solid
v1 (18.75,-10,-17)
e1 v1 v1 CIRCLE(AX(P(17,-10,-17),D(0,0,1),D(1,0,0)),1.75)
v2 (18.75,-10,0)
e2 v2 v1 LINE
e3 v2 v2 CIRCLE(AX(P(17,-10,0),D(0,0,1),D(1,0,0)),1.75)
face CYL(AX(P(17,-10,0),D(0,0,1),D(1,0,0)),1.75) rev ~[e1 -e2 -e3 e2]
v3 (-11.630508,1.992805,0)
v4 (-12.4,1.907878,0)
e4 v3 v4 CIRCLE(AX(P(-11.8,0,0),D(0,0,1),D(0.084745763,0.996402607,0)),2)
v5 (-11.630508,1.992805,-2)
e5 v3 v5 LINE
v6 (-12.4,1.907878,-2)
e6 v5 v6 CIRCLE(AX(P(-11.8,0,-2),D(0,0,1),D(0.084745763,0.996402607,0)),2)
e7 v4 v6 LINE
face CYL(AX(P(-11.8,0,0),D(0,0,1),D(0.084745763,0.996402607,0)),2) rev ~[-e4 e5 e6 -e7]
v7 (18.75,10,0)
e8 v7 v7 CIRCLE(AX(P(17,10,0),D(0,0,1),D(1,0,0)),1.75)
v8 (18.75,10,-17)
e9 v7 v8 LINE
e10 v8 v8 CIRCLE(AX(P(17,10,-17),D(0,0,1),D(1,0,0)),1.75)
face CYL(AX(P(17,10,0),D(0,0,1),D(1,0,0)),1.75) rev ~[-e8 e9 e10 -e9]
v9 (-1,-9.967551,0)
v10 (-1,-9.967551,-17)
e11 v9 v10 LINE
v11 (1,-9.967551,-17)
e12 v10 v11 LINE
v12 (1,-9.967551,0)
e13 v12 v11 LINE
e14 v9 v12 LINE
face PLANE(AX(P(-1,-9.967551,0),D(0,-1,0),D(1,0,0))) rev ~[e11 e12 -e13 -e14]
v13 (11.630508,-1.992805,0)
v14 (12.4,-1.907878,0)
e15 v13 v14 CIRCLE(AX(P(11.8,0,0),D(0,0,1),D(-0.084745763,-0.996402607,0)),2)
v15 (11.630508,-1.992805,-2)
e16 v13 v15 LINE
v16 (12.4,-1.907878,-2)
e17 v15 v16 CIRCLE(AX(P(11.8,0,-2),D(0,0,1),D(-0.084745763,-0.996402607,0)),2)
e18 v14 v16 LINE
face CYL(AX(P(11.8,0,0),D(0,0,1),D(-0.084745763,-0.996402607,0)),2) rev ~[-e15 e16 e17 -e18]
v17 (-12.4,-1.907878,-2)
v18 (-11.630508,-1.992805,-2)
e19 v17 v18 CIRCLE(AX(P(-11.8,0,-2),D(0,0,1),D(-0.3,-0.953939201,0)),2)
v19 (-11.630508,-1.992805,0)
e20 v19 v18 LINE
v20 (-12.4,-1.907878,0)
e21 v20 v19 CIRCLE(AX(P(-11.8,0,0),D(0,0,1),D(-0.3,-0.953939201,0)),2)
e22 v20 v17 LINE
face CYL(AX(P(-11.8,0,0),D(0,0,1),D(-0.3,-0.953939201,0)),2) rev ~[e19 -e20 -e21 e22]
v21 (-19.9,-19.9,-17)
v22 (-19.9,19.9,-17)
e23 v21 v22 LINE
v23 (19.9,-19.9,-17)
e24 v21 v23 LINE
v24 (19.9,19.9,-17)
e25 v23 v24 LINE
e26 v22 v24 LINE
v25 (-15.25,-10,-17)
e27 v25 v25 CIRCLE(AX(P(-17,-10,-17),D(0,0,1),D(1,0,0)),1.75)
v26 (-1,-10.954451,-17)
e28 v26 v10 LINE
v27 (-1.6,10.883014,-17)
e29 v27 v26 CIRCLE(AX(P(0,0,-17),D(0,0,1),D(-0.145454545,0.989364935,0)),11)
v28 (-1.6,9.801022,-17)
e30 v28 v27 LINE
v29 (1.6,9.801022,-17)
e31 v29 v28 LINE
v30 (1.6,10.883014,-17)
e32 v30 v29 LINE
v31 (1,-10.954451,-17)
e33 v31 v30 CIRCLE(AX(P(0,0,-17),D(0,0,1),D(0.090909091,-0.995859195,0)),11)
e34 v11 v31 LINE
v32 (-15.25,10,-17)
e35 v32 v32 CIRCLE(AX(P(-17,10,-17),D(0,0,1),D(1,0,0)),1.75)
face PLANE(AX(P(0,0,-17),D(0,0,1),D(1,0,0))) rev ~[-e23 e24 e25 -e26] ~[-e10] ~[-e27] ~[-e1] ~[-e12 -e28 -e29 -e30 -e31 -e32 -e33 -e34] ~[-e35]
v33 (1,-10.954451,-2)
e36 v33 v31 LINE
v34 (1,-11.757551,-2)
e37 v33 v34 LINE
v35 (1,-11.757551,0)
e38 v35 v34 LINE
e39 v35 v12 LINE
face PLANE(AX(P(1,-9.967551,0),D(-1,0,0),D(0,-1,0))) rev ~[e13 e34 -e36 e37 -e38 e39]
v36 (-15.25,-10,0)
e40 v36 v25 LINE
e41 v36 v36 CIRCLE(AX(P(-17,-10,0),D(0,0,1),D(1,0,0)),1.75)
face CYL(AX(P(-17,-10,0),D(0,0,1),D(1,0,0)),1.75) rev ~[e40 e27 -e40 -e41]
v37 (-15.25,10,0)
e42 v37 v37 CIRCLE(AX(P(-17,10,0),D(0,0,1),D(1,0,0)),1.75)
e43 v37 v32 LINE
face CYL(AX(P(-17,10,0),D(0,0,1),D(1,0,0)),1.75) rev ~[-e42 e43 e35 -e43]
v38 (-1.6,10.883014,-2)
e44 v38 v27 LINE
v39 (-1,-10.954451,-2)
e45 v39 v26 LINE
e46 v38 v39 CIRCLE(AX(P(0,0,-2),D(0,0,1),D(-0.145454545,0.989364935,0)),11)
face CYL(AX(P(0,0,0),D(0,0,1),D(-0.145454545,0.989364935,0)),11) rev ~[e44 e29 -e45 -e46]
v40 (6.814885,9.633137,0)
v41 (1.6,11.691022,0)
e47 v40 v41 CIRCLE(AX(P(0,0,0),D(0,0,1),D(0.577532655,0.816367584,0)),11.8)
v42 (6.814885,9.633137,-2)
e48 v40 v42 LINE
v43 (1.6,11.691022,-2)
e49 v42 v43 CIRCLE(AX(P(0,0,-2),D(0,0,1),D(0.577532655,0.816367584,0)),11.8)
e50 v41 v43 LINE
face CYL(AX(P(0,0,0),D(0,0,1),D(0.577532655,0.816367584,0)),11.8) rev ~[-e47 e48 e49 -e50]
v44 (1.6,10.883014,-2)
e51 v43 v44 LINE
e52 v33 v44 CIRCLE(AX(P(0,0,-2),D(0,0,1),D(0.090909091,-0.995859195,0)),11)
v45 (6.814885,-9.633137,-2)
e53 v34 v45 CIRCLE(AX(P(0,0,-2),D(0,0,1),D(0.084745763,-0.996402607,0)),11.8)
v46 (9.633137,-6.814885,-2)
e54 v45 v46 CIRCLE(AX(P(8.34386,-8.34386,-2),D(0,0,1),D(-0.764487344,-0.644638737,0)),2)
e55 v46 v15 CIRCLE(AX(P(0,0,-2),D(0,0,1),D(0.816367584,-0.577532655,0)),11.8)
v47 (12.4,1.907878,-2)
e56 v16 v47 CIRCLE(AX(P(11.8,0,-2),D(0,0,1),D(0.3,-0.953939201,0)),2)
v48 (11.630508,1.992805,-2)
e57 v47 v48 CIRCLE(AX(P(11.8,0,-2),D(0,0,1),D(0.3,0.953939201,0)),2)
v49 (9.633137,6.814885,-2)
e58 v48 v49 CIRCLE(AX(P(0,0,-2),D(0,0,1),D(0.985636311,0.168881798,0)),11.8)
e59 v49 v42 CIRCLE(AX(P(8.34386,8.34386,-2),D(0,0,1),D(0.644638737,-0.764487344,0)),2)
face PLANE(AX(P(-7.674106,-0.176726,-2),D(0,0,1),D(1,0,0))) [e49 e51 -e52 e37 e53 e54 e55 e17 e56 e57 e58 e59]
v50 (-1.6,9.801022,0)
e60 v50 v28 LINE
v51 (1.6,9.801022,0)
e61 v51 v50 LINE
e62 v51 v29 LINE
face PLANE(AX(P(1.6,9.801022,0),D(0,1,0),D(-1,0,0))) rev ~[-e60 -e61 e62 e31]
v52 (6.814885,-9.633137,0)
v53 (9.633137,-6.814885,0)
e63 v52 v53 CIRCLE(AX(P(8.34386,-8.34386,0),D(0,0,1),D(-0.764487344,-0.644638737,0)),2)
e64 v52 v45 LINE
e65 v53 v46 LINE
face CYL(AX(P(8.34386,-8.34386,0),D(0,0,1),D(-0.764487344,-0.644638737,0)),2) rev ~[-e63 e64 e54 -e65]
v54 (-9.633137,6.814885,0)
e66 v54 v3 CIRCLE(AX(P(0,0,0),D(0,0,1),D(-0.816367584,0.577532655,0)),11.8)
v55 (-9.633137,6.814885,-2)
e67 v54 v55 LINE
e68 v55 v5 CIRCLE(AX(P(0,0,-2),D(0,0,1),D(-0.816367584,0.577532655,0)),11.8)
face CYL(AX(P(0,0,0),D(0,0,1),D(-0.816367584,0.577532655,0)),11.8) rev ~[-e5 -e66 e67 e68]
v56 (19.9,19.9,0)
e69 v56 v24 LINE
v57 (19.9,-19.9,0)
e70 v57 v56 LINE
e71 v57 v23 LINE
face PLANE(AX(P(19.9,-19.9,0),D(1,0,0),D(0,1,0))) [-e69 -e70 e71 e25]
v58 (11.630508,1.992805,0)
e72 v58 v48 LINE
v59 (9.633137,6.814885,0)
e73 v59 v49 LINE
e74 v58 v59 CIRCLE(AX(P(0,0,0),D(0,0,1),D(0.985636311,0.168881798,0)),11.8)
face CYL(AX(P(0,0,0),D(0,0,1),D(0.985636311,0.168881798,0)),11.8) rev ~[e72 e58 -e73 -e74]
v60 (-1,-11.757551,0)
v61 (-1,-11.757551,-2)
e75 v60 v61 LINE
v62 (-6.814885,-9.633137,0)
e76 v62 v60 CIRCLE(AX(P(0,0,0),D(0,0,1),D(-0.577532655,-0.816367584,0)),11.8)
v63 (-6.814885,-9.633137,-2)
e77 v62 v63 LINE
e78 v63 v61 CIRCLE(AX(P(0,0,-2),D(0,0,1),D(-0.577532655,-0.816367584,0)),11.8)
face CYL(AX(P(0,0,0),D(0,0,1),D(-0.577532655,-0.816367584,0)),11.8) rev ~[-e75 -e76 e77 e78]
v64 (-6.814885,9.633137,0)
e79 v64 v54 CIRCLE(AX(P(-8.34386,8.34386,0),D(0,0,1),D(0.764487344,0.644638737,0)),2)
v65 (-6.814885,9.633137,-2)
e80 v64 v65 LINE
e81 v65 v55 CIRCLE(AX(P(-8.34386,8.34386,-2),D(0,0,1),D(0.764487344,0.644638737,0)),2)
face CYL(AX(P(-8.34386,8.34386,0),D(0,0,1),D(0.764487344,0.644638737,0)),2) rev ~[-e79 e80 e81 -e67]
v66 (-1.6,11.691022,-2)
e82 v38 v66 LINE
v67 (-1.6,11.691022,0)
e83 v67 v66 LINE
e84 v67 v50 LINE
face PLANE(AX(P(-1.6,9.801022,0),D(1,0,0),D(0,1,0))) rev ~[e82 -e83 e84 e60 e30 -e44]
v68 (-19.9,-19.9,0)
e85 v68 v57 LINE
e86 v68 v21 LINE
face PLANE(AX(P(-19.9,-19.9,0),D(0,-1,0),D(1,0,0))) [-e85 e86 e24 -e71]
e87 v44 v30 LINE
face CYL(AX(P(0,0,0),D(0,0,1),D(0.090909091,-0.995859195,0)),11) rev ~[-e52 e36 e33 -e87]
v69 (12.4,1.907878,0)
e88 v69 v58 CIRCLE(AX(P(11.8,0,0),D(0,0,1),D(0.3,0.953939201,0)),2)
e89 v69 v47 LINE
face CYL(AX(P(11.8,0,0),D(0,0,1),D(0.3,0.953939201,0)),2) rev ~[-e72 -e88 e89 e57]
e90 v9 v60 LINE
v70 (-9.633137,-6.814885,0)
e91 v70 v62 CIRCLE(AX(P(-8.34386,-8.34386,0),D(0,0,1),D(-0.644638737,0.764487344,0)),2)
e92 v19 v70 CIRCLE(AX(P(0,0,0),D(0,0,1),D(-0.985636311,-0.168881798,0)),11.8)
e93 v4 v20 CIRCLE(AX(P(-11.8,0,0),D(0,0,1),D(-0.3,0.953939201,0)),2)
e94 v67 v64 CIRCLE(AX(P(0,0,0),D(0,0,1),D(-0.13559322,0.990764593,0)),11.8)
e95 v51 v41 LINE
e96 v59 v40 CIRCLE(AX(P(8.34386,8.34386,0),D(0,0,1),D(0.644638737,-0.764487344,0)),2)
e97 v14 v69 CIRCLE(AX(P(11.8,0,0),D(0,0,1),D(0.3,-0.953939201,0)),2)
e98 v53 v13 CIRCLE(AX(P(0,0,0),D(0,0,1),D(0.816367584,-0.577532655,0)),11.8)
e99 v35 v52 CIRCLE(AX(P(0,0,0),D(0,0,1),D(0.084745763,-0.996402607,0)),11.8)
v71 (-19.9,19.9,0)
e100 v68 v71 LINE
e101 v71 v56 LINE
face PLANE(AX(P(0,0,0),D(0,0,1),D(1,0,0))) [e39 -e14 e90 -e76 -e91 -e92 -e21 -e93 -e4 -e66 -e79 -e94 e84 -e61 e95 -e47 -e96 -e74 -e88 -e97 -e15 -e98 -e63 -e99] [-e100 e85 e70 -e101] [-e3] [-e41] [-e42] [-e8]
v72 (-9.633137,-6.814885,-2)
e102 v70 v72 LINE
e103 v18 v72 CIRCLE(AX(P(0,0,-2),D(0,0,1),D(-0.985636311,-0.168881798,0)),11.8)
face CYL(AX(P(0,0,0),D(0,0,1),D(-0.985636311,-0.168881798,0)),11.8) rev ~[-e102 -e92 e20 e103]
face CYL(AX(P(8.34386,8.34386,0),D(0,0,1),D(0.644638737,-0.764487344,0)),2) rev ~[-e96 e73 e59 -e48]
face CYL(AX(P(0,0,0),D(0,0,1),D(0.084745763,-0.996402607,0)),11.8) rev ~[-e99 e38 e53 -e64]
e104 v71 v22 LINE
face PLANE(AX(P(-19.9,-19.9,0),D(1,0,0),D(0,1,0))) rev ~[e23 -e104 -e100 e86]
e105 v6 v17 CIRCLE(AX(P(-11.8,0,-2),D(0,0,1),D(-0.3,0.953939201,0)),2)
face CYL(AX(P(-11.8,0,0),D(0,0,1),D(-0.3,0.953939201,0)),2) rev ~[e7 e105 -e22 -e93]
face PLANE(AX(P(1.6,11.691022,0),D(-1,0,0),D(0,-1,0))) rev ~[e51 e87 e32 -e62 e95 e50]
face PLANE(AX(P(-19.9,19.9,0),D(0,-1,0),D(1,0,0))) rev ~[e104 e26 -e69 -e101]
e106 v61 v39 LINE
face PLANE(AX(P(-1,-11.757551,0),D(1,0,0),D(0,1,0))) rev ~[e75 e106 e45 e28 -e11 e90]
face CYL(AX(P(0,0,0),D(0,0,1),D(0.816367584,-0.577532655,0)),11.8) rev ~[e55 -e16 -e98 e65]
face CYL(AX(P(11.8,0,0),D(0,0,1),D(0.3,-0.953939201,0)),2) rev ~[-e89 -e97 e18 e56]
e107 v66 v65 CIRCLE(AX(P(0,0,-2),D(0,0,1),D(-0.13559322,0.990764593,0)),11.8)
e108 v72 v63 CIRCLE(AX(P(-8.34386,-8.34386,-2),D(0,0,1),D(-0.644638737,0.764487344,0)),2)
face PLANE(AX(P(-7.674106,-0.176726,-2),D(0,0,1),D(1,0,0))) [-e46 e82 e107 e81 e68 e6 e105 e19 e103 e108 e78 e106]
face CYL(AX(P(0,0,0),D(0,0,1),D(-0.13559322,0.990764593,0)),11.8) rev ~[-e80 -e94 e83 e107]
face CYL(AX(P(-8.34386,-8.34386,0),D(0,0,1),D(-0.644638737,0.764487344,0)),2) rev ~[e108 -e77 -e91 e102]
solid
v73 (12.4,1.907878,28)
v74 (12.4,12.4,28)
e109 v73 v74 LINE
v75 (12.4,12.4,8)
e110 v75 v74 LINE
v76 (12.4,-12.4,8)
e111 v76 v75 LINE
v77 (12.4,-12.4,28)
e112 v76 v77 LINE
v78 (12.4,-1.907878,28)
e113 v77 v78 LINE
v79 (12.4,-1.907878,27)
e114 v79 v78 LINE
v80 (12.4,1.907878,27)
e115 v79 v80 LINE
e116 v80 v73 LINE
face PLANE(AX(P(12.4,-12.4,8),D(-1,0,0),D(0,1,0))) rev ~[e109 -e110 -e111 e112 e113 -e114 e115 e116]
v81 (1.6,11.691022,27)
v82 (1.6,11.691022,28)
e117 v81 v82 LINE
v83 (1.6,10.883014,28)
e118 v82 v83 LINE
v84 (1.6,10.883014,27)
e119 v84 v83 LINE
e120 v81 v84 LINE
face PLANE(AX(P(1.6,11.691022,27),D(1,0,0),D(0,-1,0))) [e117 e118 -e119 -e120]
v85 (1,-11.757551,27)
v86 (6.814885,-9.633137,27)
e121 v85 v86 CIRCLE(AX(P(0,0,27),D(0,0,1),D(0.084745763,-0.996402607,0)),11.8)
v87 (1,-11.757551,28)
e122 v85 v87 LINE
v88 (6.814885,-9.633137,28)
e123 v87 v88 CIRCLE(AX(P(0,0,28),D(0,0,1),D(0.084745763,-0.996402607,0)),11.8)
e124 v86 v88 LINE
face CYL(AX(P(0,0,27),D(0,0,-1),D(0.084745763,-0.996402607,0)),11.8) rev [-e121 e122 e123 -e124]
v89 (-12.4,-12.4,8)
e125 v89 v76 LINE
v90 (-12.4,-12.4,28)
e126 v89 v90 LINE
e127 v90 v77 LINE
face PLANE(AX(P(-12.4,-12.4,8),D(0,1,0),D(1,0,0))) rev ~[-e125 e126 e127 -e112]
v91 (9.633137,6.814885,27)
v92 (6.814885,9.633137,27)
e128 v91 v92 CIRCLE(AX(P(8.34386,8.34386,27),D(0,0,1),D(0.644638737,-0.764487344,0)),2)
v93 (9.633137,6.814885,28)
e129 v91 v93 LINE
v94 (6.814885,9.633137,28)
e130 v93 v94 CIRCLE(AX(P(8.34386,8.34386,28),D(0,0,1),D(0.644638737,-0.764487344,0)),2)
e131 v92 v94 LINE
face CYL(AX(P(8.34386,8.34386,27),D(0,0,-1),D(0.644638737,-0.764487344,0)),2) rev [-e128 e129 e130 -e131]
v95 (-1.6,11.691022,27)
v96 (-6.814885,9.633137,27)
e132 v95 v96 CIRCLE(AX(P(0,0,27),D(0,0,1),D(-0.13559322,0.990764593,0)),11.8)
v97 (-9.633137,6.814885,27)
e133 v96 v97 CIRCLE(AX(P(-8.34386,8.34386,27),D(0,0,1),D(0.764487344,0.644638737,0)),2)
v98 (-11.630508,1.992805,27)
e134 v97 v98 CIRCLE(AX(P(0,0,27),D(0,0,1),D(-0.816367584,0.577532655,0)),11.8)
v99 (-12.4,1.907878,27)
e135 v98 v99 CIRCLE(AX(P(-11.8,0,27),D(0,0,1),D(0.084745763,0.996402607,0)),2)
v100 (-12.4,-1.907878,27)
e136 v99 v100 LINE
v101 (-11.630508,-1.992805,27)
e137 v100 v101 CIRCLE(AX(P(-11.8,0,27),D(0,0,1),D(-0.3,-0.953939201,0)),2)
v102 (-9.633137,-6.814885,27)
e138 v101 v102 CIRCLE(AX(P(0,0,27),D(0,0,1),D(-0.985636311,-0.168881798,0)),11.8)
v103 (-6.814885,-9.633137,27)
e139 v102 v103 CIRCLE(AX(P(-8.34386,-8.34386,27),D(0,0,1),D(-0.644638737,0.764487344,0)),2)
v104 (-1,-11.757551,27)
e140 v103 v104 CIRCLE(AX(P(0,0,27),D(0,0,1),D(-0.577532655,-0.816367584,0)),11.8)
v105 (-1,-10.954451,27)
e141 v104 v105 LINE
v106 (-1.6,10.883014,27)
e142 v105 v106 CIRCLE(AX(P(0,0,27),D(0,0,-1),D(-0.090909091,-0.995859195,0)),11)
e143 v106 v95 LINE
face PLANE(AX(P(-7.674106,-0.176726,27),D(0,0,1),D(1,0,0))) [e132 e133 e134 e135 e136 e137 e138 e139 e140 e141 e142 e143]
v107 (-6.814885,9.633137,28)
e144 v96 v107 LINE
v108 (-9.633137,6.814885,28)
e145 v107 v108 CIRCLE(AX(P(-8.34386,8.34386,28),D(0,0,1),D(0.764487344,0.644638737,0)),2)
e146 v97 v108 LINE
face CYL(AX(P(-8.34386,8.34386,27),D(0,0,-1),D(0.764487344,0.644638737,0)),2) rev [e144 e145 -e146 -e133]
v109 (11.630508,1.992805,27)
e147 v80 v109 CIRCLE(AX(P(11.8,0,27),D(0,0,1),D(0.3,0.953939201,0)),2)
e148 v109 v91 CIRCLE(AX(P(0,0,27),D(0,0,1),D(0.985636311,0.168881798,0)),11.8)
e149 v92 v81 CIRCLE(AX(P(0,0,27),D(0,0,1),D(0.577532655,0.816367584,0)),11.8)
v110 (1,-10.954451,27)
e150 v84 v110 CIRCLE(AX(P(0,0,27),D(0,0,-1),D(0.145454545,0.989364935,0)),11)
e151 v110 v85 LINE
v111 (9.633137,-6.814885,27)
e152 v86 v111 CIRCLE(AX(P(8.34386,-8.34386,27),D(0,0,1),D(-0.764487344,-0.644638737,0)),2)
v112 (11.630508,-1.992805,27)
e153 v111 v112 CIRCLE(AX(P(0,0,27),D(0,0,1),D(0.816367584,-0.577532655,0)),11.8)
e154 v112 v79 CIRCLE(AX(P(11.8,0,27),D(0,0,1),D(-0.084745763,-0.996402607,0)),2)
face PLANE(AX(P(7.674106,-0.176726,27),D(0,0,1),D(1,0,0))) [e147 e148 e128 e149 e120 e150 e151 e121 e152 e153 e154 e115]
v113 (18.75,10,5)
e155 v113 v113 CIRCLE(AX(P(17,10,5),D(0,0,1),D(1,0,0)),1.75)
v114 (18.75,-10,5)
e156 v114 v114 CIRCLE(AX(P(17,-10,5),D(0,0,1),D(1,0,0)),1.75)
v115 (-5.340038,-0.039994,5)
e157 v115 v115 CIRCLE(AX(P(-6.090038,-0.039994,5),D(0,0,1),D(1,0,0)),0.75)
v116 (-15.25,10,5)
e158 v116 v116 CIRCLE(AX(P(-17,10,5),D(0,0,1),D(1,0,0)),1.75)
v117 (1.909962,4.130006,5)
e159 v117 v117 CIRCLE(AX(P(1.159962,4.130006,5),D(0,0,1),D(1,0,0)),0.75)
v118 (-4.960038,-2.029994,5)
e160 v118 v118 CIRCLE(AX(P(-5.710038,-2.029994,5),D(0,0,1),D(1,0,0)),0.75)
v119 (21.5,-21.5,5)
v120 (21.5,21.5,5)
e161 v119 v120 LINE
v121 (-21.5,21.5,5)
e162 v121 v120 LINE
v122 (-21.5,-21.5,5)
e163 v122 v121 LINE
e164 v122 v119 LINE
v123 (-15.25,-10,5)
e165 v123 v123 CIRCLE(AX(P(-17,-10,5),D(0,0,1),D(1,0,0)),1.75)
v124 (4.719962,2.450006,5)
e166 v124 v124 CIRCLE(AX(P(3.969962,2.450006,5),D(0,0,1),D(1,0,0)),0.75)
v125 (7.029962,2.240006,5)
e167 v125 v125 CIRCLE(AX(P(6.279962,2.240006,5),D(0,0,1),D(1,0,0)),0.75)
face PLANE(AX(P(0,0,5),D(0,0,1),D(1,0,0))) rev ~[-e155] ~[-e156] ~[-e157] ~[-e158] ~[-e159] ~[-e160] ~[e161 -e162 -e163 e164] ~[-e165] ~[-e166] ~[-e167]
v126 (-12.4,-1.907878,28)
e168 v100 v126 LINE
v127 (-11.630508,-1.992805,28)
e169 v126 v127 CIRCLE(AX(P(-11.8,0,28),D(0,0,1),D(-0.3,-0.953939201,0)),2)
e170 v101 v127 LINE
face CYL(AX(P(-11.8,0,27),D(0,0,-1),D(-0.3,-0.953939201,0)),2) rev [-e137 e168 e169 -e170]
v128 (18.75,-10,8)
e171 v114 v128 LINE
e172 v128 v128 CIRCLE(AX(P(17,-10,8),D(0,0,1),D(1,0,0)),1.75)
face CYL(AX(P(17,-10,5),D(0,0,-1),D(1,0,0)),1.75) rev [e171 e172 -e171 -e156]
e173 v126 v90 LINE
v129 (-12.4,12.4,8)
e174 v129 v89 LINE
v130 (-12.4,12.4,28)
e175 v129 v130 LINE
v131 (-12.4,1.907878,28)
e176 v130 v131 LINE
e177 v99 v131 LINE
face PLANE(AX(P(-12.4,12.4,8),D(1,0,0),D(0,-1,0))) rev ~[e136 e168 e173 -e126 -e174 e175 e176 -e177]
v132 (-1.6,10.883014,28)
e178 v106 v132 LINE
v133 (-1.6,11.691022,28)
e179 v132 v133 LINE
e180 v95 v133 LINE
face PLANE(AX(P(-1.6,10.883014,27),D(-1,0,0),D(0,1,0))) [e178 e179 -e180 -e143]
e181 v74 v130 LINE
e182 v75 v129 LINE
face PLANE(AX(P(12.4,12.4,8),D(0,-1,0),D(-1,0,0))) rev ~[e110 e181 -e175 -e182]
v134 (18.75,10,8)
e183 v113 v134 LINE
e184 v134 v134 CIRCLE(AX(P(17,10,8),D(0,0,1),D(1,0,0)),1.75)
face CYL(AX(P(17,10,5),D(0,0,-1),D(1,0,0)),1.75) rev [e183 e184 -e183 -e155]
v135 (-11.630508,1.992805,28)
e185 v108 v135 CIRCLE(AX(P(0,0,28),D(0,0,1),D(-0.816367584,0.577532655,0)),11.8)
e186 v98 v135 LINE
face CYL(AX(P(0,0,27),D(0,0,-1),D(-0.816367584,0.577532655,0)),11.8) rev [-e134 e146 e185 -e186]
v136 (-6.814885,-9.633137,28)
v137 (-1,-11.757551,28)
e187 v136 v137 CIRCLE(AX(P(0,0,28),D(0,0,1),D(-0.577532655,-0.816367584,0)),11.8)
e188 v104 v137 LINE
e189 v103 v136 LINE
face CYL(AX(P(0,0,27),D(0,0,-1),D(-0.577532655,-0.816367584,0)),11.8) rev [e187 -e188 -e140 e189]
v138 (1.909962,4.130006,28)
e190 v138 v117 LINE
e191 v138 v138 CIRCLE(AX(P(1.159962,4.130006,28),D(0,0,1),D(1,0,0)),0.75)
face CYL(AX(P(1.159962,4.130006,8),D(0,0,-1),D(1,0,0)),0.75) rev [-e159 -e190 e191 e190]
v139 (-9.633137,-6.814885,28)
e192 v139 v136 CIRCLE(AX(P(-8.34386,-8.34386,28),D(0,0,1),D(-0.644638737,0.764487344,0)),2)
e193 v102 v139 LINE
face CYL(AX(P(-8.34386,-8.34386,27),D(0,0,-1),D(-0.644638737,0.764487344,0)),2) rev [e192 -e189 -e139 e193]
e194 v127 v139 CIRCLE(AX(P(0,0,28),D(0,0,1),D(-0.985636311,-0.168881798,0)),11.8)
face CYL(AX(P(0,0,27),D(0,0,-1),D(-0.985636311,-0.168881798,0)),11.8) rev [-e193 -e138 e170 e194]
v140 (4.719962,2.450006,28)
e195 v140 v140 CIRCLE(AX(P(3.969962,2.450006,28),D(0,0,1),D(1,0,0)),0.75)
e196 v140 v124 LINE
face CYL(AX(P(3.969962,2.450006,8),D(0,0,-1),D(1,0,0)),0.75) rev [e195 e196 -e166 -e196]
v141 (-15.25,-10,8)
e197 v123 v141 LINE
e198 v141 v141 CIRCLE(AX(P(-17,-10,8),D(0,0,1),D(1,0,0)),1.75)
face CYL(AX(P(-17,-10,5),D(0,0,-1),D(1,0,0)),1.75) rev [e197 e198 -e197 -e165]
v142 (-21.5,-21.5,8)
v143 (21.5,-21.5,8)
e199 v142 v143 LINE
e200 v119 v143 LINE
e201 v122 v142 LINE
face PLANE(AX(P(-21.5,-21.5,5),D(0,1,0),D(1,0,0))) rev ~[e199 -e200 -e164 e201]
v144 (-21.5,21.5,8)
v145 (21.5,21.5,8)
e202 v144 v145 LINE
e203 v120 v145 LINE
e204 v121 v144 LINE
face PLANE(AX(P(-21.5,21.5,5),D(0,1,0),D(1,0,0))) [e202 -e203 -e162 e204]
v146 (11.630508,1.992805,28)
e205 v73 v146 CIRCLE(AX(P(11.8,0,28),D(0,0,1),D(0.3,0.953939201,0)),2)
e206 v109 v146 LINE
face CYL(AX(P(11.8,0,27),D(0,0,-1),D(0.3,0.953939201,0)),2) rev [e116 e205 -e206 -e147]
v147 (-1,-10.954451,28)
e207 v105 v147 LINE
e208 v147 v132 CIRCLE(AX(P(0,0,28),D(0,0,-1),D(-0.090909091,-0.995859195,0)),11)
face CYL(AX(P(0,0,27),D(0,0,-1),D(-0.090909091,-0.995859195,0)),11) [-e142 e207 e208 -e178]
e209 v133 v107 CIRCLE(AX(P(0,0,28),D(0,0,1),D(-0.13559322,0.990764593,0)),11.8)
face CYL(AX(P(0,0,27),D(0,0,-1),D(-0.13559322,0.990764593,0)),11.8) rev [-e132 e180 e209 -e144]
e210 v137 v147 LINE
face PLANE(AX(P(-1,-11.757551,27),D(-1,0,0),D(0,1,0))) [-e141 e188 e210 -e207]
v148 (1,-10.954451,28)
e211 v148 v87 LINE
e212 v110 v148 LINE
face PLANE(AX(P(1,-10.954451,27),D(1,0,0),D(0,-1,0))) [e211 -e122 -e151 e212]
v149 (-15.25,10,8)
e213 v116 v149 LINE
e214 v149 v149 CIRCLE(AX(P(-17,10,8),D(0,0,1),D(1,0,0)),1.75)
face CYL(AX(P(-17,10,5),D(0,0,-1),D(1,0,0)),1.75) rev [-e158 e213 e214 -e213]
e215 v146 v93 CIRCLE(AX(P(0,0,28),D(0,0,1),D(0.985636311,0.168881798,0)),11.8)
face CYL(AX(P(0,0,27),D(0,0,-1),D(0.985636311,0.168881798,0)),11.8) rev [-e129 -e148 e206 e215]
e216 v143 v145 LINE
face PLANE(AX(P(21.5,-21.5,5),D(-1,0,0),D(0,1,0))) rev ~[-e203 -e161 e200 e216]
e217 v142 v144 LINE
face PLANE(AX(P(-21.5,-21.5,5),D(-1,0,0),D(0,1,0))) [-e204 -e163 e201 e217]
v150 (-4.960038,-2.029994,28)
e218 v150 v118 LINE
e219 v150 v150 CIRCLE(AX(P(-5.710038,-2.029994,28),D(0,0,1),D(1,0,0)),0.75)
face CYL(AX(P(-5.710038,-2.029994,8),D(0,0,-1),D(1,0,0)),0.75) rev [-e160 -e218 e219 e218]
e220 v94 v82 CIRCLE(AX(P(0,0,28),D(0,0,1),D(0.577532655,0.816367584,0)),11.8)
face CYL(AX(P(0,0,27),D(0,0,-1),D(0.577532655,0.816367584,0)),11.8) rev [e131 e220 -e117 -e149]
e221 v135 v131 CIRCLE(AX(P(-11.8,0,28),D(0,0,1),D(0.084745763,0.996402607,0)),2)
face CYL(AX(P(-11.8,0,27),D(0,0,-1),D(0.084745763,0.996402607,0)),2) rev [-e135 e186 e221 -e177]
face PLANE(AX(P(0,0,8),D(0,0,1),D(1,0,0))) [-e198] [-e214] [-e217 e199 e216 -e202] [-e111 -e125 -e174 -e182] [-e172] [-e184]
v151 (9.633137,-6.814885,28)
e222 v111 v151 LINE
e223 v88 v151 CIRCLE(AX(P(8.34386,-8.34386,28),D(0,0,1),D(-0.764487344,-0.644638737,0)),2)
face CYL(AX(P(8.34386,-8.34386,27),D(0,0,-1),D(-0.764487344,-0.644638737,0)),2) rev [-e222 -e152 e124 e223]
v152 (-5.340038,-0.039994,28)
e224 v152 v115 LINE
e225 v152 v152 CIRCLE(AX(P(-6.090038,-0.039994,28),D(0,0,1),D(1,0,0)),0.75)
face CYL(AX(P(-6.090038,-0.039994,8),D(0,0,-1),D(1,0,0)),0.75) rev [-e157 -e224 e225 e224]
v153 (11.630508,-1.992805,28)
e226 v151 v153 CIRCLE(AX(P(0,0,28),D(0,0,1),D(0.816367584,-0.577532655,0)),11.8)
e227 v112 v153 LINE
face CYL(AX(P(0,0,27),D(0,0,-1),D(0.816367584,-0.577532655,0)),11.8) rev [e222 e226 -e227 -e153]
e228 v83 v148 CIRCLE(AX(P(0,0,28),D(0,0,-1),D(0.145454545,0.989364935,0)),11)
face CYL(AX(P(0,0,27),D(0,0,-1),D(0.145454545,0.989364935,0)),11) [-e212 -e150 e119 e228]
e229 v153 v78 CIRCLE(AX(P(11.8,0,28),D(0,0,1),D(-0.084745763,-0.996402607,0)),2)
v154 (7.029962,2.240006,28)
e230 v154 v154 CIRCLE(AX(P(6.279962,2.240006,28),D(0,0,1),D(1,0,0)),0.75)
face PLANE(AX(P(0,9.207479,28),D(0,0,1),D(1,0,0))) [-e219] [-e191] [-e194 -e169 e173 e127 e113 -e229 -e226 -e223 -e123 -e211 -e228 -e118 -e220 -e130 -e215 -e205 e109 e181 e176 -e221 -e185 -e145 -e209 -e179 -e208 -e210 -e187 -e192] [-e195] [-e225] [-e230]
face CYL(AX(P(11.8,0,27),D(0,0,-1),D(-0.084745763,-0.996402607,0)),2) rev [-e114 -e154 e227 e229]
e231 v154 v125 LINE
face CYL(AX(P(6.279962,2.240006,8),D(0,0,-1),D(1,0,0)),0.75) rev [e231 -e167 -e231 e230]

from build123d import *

# Parameters (mm, degrees)
F1_START = 5
F0_W     = 43
F0_H     = 43
F0_W_2   = 39.8
F0_H_2   = 39.8
F0_R     = 1.75
F0_R_2   = 0.75
F1_DEPTH = 3
F2_START = 8
F2_DEPTH = 20
F3_START = 27
F3_DEPTH = 1
F4_DEPTH = 17
F5_DEPTH = 2
F6_DEPTH = 22


with BuildPart() as f1:
    # F0 (on Top) → F1 (new body)
    with BuildSketch(Plane.XY.offset(F1_START)):
        Rectangle(F0_W, F0_H)
        Rectangle(F0_W_2, F0_H_2, mode=Mode.SUBTRACT)
        Rectangle(F0_W_2, F0_H_2)
        with Locations((-17, -10)):
            Circle(F0_R, mode=Mode.SUBTRACT)
        with Locations((17, -10)):
            Circle(F0_R, mode=Mode.SUBTRACT)
        with Locations((-17, 10)):
            Circle(F0_R, mode=Mode.SUBTRACT)
        with BuildLine():
            ThreePointArc((-12.4, -1.9078784028), (-13.8, 0), (-12.4, 1.9078784028))
            Line((-12.4, 1.9078784028), (-12.4, 12.4))
            Line((-12.4, 12.4), (12.4, 12.4))
            Line((12.4, 12.4), (12.4, 1.9078784028))
            ThreePointArc((12.4, 1.9078784028), (13.8, 0), (12.4, -1.9078784028))
            Line((12.4, -1.9078784028), (12.4, -12.4))
            Line((12.4, -12.4), (-12.4, -12.4))
            Line((-12.4, -12.4), (-12.4, -1.9078784028))
        make_face(mode=Mode.SUBTRACT)
        with Locations((17, 10)):
            Circle(F0_R, mode=Mode.SUBTRACT)
        with BuildLine():
            Line((-1.6, 9.8010221965), (-1.6, 10.8830142883))
            ThreePointArc((-1.6, 10.8830142883), (-10.995850317, -0.3021188612), (-1, -10.9544511501))
            Line((-1, -10.9544511501), (-1, -9.9675507654))
            Line((-1, -9.9675507654), (1, -9.9675507654))
            Line((1, -9.9675507654), (1, -10.9544511501))
            ThreePointArc((1, -10.9544511501), (10.995850317, -0.3021188612), (1.6, 10.8830142883))
            Line((1.6, 10.8830142883), (1.6, 9.8010221965))
            Line((1.6, 9.8010221965), (-1.6, 9.8010221965))
        make_face()
        with Locations((-5.710038, -2.029994)):
            Circle(F0_R_2, mode=Mode.SUBTRACT)
        with Locations((-6.090038, -0.039994)):
            Circle(F0_R_2, mode=Mode.SUBTRACT)
        with Locations((3.969962, 2.450006)):
            Circle(F0_R_2, mode=Mode.SUBTRACT)
        with Locations((1.159962, 4.130006)):
            Circle(F0_R_2, mode=Mode.SUBTRACT)
        with Locations((6.279962, 2.240006)):
            Circle(F0_R_2, mode=Mode.SUBTRACT)
        with BuildLine():
            ThreePointArc((-6.8148853303, 9.6331374918), (-4.331431189, 10.9762791444), (-1.6, 11.6910221965))
            Line((-1.6, 11.6910221965), (-1.6, 10.8830142883))
            Line((-1.6, 10.8830142883), (-1.6, 9.8010221965))
            Line((-1.6, 9.8010221965), (1.6, 9.8010221965))
            Line((1.6, 9.8010221965), (1.6, 10.8830142883))
            Line((1.6, 10.8830142883), (1.6, 11.6910221965))
            ThreePointArc((1.6, 11.6910221965), (4.331431189, 10.9762791444), (6.8148853303, 9.6331374918))
            ThreePointArc((6.8148853303, 9.6331374918), (9.7580735804, 9.7580735804), (9.6331374918, 6.8148853303))
            ThreePointArc((9.6331374918, 6.8148853303), (10.9017784836, 4.5156645019), (11.6305084746, 1.9928052145))
            ThreePointArc((11.6305084746, 1.9928052145), (12.0194026607, 1.987929192), (12.4, 1.9078784028))
            Line((12.4, 1.9078784028), (12.4, 12.4))
            Line((12.4, 12.4), (-12.4, 12.4))
            Line((-12.4, 12.4), (-12.4, 1.9078784028))
            ThreePointArc((-12.4, 1.9078784028), (-12.0194026607, 1.987929192), (-11.6305084746, 1.9928052145))
            ThreePointArc((-11.6305084746, 1.9928052145), (-10.9017784836, 4.5156645019), (-9.6331374918, 6.8148853303))
            ThreePointArc((-9.6331374918, 6.8148853303), (-9.7580735804, 9.7580735804), (-6.8148853303, 9.6331374918))
        make_face()
        with BuildLine():
            Line((-1, -9.9675507654), (-1, -10.9544511501))
            Line((-1, -10.9544511501), (-1, -11.7575507654))
            ThreePointArc((-1, -11.7575507654), (-4.0492457471, -11.0834836076), (-6.8148853303, -9.6331374918))
            ThreePointArc((-6.8148853303, -9.6331374918), (-9.7580735804, -9.7580735804), (-9.6331374918, -6.8148853303))
            ThreePointArc((-9.6331374918, -6.8148853303), (-10.9017784836, -4.5156645019), (-11.6305084746, -1.9928052145))
            ThreePointArc((-11.6305084746, -1.9928052145), (-12.0194026607, -1.987929192), (-12.4, -1.9078784028))
            Line((-12.4, -1.9078784028), (-12.4, -12.4))
            Line((-12.4, -12.4), (12.4, -12.4))
            Line((12.4, -12.4), (12.4, -1.9078784028))
            ThreePointArc((12.4, -1.9078784028), (12.0194026607, -1.987929192), (11.6305084746, -1.9928052145))
            ThreePointArc((11.6305084746, -1.9928052145), (10.9017784836, -4.5156645019), (9.6331374918, -6.8148853303))
            ThreePointArc((9.6331374918, -6.8148853303), (9.7580735804, -9.7580735804), (6.8148853303, -9.6331374918))
            ThreePointArc((6.8148853303, -9.6331374918), (4.0492457471, -11.0834836076), (1, -11.7575507654))
            Line((1, -11.7575507654), (1, -10.9544511501))
            Line((1, -10.9544511501), (1, -9.9675507654))
            Line((1, -9.9675507654), (-1, -9.9675507654))
        make_face()
        with BuildLine():
            Line((-1.6, 10.8830142883), (-1.6, 11.6910221965))
            ThreePointArc((-1.6, 11.6910221965), (-4.331431189, 10.9762791444), (-6.8148853303, 9.6331374918))
            ThreePointArc((-6.8148853303, 9.6331374918), (-9.7580735804, 9.7580735804), (-9.6331374918, 6.8148853303))
            ThreePointArc((-9.6331374918, 6.8148853303), (-10.9017784836, 4.5156645019), (-11.6305084746, 1.9928052145))
            ThreePointArc((-11.6305084746, 1.9928052145), (-12.0194026607, 1.987929192), (-12.4, 1.9078784028))
            Line((-12.4, 1.9078784028), (-12.4, -1.9078784028))
            ThreePointArc((-12.4, -1.9078784028), (-12.0194026607, -1.987929192), (-11.6305084746, -1.9928052145))
            ThreePointArc((-11.6305084746, -1.9928052145), (-10.9017784836, -4.5156645019), (-9.6331374918, -6.8148853303))
            ThreePointArc((-9.6331374918, -6.8148853303), (-9.7580735804, -9.7580735804), (-6.8148853303, -9.6331374918))
            ThreePointArc((-6.8148853303, -9.6331374918), (-4.0492457471, -11.0834836076), (-1, -11.7575507654))
            Line((-1, -11.7575507654), (-1, -10.9544511501))
            ThreePointArc((-1, -10.9544511501), (-10.995850317, -0.3021188612), (-1.6, 10.8830142883))
        make_face()
        with BuildLine():
            Line((1.6, 11.6910221965), (1.6, 10.8830142883))
            ThreePointArc((1.6, 10.8830142883), (10.995850317, -0.3021188612), (1, -10.9544511501))
            Line((1, -10.9544511501), (1, -11.7575507654))
            ThreePointArc((1, -11.7575507654), (4.0492457471, -11.0834836076), (6.8148853303, -9.6331374918))
            ThreePointArc((6.8148853303, -9.6331374918), (9.7580735804, -9.7580735804), (9.6331374918, -6.8148853303))
            ThreePointArc((9.6331374918, -6.8148853303), (10.9017784836, -4.5156645019), (11.6305084746, -1.9928052145))
            ThreePointArc((11.6305084746, -1.9928052145), (12.0194026607, -1.987929192), (12.4, -1.9078784028))
            Line((12.4, -1.9078784028), (12.4, 1.9078784028))
            ThreePointArc((12.4, 1.9078784028), (12.0194026607, 1.987929192), (11.6305084746, 1.9928052145))
            ThreePointArc((11.6305084746, 1.9928052145), (10.9017784836, 4.5156645019), (9.6331374918, 6.8148853303))
            ThreePointArc((9.6331374918, 6.8148853303), (9.7580735804, 9.7580735804), (6.8148853303, 9.6331374918))
            ThreePointArc((6.8148853303, 9.6331374918), (4.331431189, 10.9762791444), (1.6, 11.6910221965))
        make_face()
        with BuildLine():
            Line((-12.4, -1.9078784028), (-12.4, 1.9078784028))
            ThreePointArc((-12.4, 1.9078784028), (-13.8, 0), (-12.4, -1.9078784028))
        make_face()
        with BuildLine():
            ThreePointArc((12.4, -1.9078784028), (13.8, 0), (12.4, 1.9078784028))
            Line((12.4, 1.9078784028), (12.4, -1.9078784028))
        make_face()
    extrude(amount=F1_DEPTH)

    # F0 (on Top) → F2 (join)
    with BuildSketch(Plane.XY.offset(F2_START)):
        with BuildLine():
            ThreePointArc((-6.8148853303, 9.6331374918), (-4.331431189, 10.9762791444), (-1.6, 11.6910221965))
            Line((-1.6, 11.6910221965), (-1.6, 10.8830142883))
            Line((-1.6, 10.8830142883), (-1.6, 9.8010221965))
            Line((-1.6, 9.8010221965), (1.6, 9.8010221965))
            Line((1.6, 9.8010221965), (1.6, 10.8830142883))
            Line((1.6, 10.8830142883), (1.6, 11.6910221965))
            ThreePointArc((1.6, 11.6910221965), (4.331431189, 10.9762791444), (6.8148853303, 9.6331374918))
            ThreePointArc((6.8148853303, 9.6331374918), (9.7580735804, 9.7580735804), (9.6331374918, 6.8148853303))
            ThreePointArc((9.6331374918, 6.8148853303), (10.9017784836, 4.5156645019), (11.6305084746, 1.9928052145))
            ThreePointArc((11.6305084746, 1.9928052145), (12.0194026607, 1.987929192), (12.4, 1.9078784028))
            Line((12.4, 1.9078784028), (12.4, 12.4))
            Line((12.4, 12.4), (-12.4, 12.4))
            Line((-12.4, 12.4), (-12.4, 1.9078784028))
            ThreePointArc((-12.4, 1.9078784028), (-12.0194026607, 1.987929192), (-11.6305084746, 1.9928052145))
            ThreePointArc((-11.6305084746, 1.9928052145), (-10.9017784836, 4.5156645019), (-9.6331374918, 6.8148853303))
            ThreePointArc((-9.6331374918, 6.8148853303), (-9.7580735804, 9.7580735804), (-6.8148853303, 9.6331374918))
        make_face()
        with BuildLine():
            Line((-1.6, 9.8010221965), (-1.6, 10.8830142883))
            ThreePointArc((-1.6, 10.8830142883), (-10.995850317, -0.3021188612), (-1, -10.9544511501))
            Line((-1, -10.9544511501), (-1, -9.9675507654))
            Line((-1, -9.9675507654), (1, -9.9675507654))
            Line((1, -9.9675507654), (1, -10.9544511501))
            ThreePointArc((1, -10.9544511501), (10.995850317, -0.3021188612), (1.6, 10.8830142883))
            Line((1.6, 10.8830142883), (1.6, 9.8010221965))
            Line((1.6, 9.8010221965), (-1.6, 9.8010221965))
        make_face()
        with Locations((-5.710038, -2.029994)):
            Circle(F0_R_2, mode=Mode.SUBTRACT)
        with Locations((-6.090038, -0.039994)):
            Circle(F0_R_2, mode=Mode.SUBTRACT)
        with Locations((3.969962, 2.450006)):
            Circle(F0_R_2, mode=Mode.SUBTRACT)
        with Locations((1.159962, 4.130006)):
            Circle(F0_R_2, mode=Mode.SUBTRACT)
        with Locations((6.279962, 2.240006)):
            Circle(F0_R_2, mode=Mode.SUBTRACT)
        with BuildLine():
            Line((-1.6, 10.8830142883), (-1.6, 11.6910221965))
            ThreePointArc((-1.6, 11.6910221965), (-4.331431189, 10.9762791444), (-6.8148853303, 9.6331374918))
            ThreePointArc((-6.8148853303, 9.6331374918), (-9.7580735804, 9.7580735804), (-9.6331374918, 6.8148853303))
            ThreePointArc((-9.6331374918, 6.8148853303), (-10.9017784836, 4.5156645019), (-11.6305084746, 1.9928052145))
            ThreePointArc((-11.6305084746, 1.9928052145), (-12.0194026607, 1.987929192), (-12.4, 1.9078784028))
            Line((-12.4, 1.9078784028), (-12.4, -1.9078784028))
            ThreePointArc((-12.4, -1.9078784028), (-12.0194026607, -1.987929192), (-11.6305084746, -1.9928052145))
            ThreePointArc((-11.6305084746, -1.9928052145), (-10.9017784836, -4.5156645019), (-9.6331374918, -6.8148853303))
            ThreePointArc((-9.6331374918, -6.8148853303), (-9.7580735804, -9.7580735804), (-6.8148853303, -9.6331374918))
            ThreePointArc((-6.8148853303, -9.6331374918), (-4.0492457471, -11.0834836076), (-1, -11.7575507654))
            Line((-1, -11.7575507654), (-1, -10.9544511501))
            ThreePointArc((-1, -10.9544511501), (-10.995850317, -0.3021188612), (-1.6, 10.8830142883))
        make_face()
        with BuildLine():
            Line((-1, -9.9675507654), (-1, -10.9544511501))
            Line((-1, -10.9544511501), (-1, -11.7575507654))
            ThreePointArc((-1, -11.7575507654), (-4.0492457471, -11.0834836076), (-6.8148853303, -9.6331374918))
            ThreePointArc((-6.8148853303, -9.6331374918), (-9.7580735804, -9.7580735804), (-9.6331374918, -6.8148853303))
            ThreePointArc((-9.6331374918, -6.8148853303), (-10.9017784836, -4.5156645019), (-11.6305084746, -1.9928052145))
            ThreePointArc((-11.6305084746, -1.9928052145), (-12.0194026607, -1.987929192), (-12.4, -1.9078784028))
            Line((-12.4, -1.9078784028), (-12.4, -12.4))
            Line((-12.4, -12.4), (12.4, -12.4))
            Line((12.4, -12.4), (12.4, -1.9078784028))
            ThreePointArc((12.4, -1.9078784028), (12.0194026607, -1.987929192), (11.6305084746, -1.9928052145))
            ThreePointArc((11.6305084746, -1.9928052145), (10.9017784836, -4.5156645019), (9.6331374918, -6.8148853303))
            ThreePointArc((9.6331374918, -6.8148853303), (9.7580735804, -9.7580735804), (6.8148853303, -9.6331374918))
            ThreePointArc((6.8148853303, -9.6331374918), (4.0492457471, -11.0834836076), (1, -11.7575507654))
            Line((1, -11.7575507654), (1, -10.9544511501))
            Line((1, -10.9544511501), (1, -9.9675507654))
            Line((1, -9.9675507654), (-1, -9.9675507654))
        make_face()
        with BuildLine():
            Line((1.6, 11.6910221965), (1.6, 10.8830142883))
            ThreePointArc((1.6, 10.8830142883), (10.995850317, -0.3021188612), (1, -10.9544511501))
            Line((1, -10.9544511501), (1, -11.7575507654))
            ThreePointArc((1, -11.7575507654), (4.0492457471, -11.0834836076), (6.8148853303, -9.6331374918))
            ThreePointArc((6.8148853303, -9.6331374918), (9.7580735804, -9.7580735804), (9.6331374918, -6.8148853303))
            ThreePointArc((9.6331374918, -6.8148853303), (10.9017784836, -4.5156645019), (11.6305084746, -1.9928052145))
            ThreePointArc((11.6305084746, -1.9928052145), (12.0194026607, -1.987929192), (12.4, -1.9078784028))
            Line((12.4, -1.9078784028), (12.4, 1.9078784028))
            ThreePointArc((12.4, 1.9078784028), (12.0194026607, 1.987929192), (11.6305084746, 1.9928052145))
            ThreePointArc((11.6305084746, 1.9928052145), (10.9017784836, 4.5156645019), (9.6331374918, 6.8148853303))
            ThreePointArc((9.6331374918, 6.8148853303), (9.7580735804, 9.7580735804), (6.8148853303, 9.6331374918))
            ThreePointArc((6.8148853303, 9.6331374918), (4.331431189, 10.9762791444), (1.6, 11.6910221965))
        make_face()
    extrude(amount=F2_DEPTH)

    # F0 (on Top) → F3 (cut)
    with BuildSketch(Plane.XY.offset(F3_START)):
        with BuildLine():
            Line((-1.6, 10.8830142883), (-1.6, 11.6910221965))
            ThreePointArc((-1.6, 11.6910221965), (-4.331431189, 10.9762791444), (-6.8148853303, 9.6331374918))
            ThreePointArc((-6.8148853303, 9.6331374918), (-9.7580735804, 9.7580735804), (-9.6331374918, 6.8148853303))
            ThreePointArc((-9.6331374918, 6.8148853303), (-10.9017784836, 4.5156645019), (-11.6305084746, 1.9928052145))
            ThreePointArc((-11.6305084746, 1.9928052145), (-12.0194026607, 1.987929192), (-12.4, 1.9078784028))
            Line((-12.4, 1.9078784028), (-12.4, -1.9078784028))
            ThreePointArc((-12.4, -1.9078784028), (-12.0194026607, -1.987929192), (-11.6305084746, -1.9928052145))
            ThreePointArc((-11.6305084746, -1.9928052145), (-10.9017784836, -4.5156645019), (-9.6331374918, -6.8148853303))
            ThreePointArc((-9.6331374918, -6.8148853303), (-9.7580735804, -9.7580735804), (-6.8148853303, -9.6331374918))
            ThreePointArc((-6.8148853303, -9.6331374918), (-4.0492457471, -11.0834836076), (-1, -11.7575507654))
            Line((-1, -11.7575507654), (-1, -10.9544511501))
            ThreePointArc((-1, -10.9544511501), (-10.995850317, -0.3021188612), (-1.6, 10.8830142883))
        make_face()
        with BuildLine():
            Line((1.6, 11.6910221965), (1.6, 10.8830142883))
            ThreePointArc((1.6, 10.8830142883), (10.995850317, -0.3021188612), (1, -10.9544511501))
            Line((1, -10.9544511501), (1, -11.7575507654))
            ThreePointArc((1, -11.7575507654), (4.0492457471, -11.0834836076), (6.8148853303, -9.6331374918))
            ThreePointArc((6.8148853303, -9.6331374918), (9.7580735804, -9.7580735804), (9.6331374918, -6.8148853303))
            ThreePointArc((9.6331374918, -6.8148853303), (10.9017784836, -4.5156645019), (11.6305084746, -1.9928052145))
            ThreePointArc((11.6305084746, -1.9928052145), (12.0194026607, -1.987929192), (12.4, -1.9078784028))
            Line((12.4, -1.9078784028), (12.4, 1.9078784028))
            ThreePointArc((12.4, 1.9078784028), (12.0194026607, 1.987929192), (11.6305084746, 1.9928052145))
            ThreePointArc((11.6305084746, 1.9928052145), (10.9017784836, 4.5156645019), (9.6331374918, 6.8148853303))
            ThreePointArc((9.6331374918, 6.8148853303), (9.7580735804, 9.7580735804), (6.8148853303, 9.6331374918))
            ThreePointArc((6.8148853303, 9.6331374918), (4.331431189, 10.9762791444), (1.6, 11.6910221965))
        make_face()
    extrude(amount=F3_DEPTH, mode=Mode.SUBTRACT)


with BuildPart() as f4:
    # F0 (on Top) → F4 (new body)
    with BuildSketch(Plane.XY):
        Rectangle(F0_W_2, F0_H_2)
        with Locations((-17, -10)):
            Circle(F0_R, mode=Mode.SUBTRACT)
        with Locations((17, -10)):
            Circle(F0_R, mode=Mode.SUBTRACT)
        with Locations((-17, 10)):
            Circle(F0_R, mode=Mode.SUBTRACT)
        with BuildLine():
            ThreePointArc((-12.4, -1.9078784028), (-13.8, 0), (-12.4, 1.9078784028))
            Line((-12.4, 1.9078784028), (-12.4, 12.4))
            Line((-12.4, 12.4), (12.4, 12.4))
            Line((12.4, 12.4), (12.4, 1.9078784028))
            ThreePointArc((12.4, 1.9078784028), (13.8, 0), (12.4, -1.9078784028))
            Line((12.4, -1.9078784028), (12.4, -12.4))
            Line((12.4, -12.4), (-12.4, -12.4))
            Line((-12.4, -12.4), (-12.4, -1.9078784028))
        make_face(mode=Mode.SUBTRACT)
        with Locations((17, 10)):
            Circle(F0_R, mode=Mode.SUBTRACT)
        with BuildLine():
            ThreePointArc((-6.8148853303, 9.6331374918), (-4.331431189, 10.9762791444), (-1.6, 11.6910221965))
            Line((-1.6, 11.6910221965), (-1.6, 10.8830142883))
            Line((-1.6, 10.8830142883), (-1.6, 9.8010221965))
            Line((-1.6, 9.8010221965), (1.6, 9.8010221965))
            Line((1.6, 9.8010221965), (1.6, 10.8830142883))
            Line((1.6, 10.8830142883), (1.6, 11.6910221965))
            ThreePointArc((1.6, 11.6910221965), (4.331431189, 10.9762791444), (6.8148853303, 9.6331374918))
            ThreePointArc((6.8148853303, 9.6331374918), (9.7580735804, 9.7580735804), (9.6331374918, 6.8148853303))
            ThreePointArc((9.6331374918, 6.8148853303), (10.9017784836, 4.5156645019), (11.6305084746, 1.9928052145))
            ThreePointArc((11.6305084746, 1.9928052145), (12.0194026607, 1.987929192), (12.4, 1.9078784028))
            Line((12.4, 1.9078784028), (12.4, 12.4))
            Line((12.4, 12.4), (-12.4, 12.4))
            Line((-12.4, 12.4), (-12.4, 1.9078784028))
            ThreePointArc((-12.4, 1.9078784028), (-12.0194026607, 1.987929192), (-11.6305084746, 1.9928052145))
            ThreePointArc((-11.6305084746, 1.9928052145), (-10.9017784836, 4.5156645019), (-9.6331374918, 6.8148853303))
            ThreePointArc((-9.6331374918, 6.8148853303), (-9.7580735804, 9.7580735804), (-6.8148853303, 9.6331374918))
        make_face()
        with BuildLine():
            Line((-1, -9.9675507654), (-1, -10.9544511501))
            Line((-1, -10.9544511501), (-1, -11.7575507654))
            ThreePointArc((-1, -11.7575507654), (-4.0492457471, -11.0834836076), (-6.8148853303, -9.6331374918))
            ThreePointArc((-6.8148853303, -9.6331374918), (-9.7580735804, -9.7580735804), (-9.6331374918, -6.8148853303))
            ThreePointArc((-9.6331374918, -6.8148853303), (-10.9017784836, -4.5156645019), (-11.6305084746, -1.9928052145))
            ThreePointArc((-11.6305084746, -1.9928052145), (-12.0194026607, -1.987929192), (-12.4, -1.9078784028))
            Line((-12.4, -1.9078784028), (-12.4, -12.4))
            Line((-12.4, -12.4), (12.4, -12.4))
            Line((12.4, -12.4), (12.4, -1.9078784028))
            ThreePointArc((12.4, -1.9078784028), (12.0194026607, -1.987929192), (11.6305084746, -1.9928052145))
            ThreePointArc((11.6305084746, -1.9928052145), (10.9017784836, -4.5156645019), (9.6331374918, -6.8148853303))
            ThreePointArc((9.6331374918, -6.8148853303), (9.7580735804, -9.7580735804), (6.8148853303, -9.6331374918))
            ThreePointArc((6.8148853303, -9.6331374918), (4.0492457471, -11.0834836076), (1, -11.7575507654))
            Line((1, -11.7575507654), (1, -10.9544511501))
            Line((1, -10.9544511501), (1, -9.9675507654))
            Line((1, -9.9675507654), (-1, -9.9675507654))
        make_face()
        with BuildLine():
            Line((-1.6, 9.8010221965), (-1.6, 10.8830142883))
            ThreePointArc((-1.6, 10.8830142883), (-10.995850317, -0.3021188612), (-1, -10.9544511501))
            Line((-1, -10.9544511501), (-1, -9.9675507654))
            Line((-1, -9.9675507654), (1, -9.9675507654))
            Line((1, -9.9675507654), (1, -10.9544511501))
            ThreePointArc((1, -10.9544511501), (10.995850317, -0.3021188612), (1.6, 10.8830142883))
            Line((1.6, 10.8830142883), (1.6, 9.8010221965))
            Line((1.6, 9.8010221965), (-1.6, 9.8010221965))
        make_face()
        with Locations((-5.710038, -2.029994)):
            Circle(F0_R_2, mode=Mode.SUBTRACT)
        with Locations((-6.090038, -0.039994)):
            Circle(F0_R_2, mode=Mode.SUBTRACT)
        with Locations((3.969962, 2.450006)):
            Circle(F0_R_2, mode=Mode.SUBTRACT)
        with Locations((1.159962, 4.130006)):
            Circle(F0_R_2, mode=Mode.SUBTRACT)
        with Locations((6.279962, 2.240006)):
            Circle(F0_R_2, mode=Mode.SUBTRACT)
        with BuildLine():
            Line((-1.6, 10.8830142883), (-1.6, 11.6910221965))
            ThreePointArc((-1.6, 11.6910221965), (-4.331431189, 10.9762791444), (-6.8148853303, 9.6331374918))
            ThreePointArc((-6.8148853303, 9.6331374918), (-9.7580735804, 9.7580735804), (-9.6331374918, 6.8148853303))
            ThreePointArc((-9.6331374918, 6.8148853303), (-10.9017784836, 4.5156645019), (-11.6305084746, 1.9928052145))
            ThreePointArc((-11.6305084746, 1.9928052145), (-12.0194026607, 1.987929192), (-12.4, 1.9078784028))
            Line((-12.4, 1.9078784028), (-12.4, -1.9078784028))
            ThreePointArc((-12.4, -1.9078784028), (-12.0194026607, -1.987929192), (-11.6305084746, -1.9928052145))
            ThreePointArc((-11.6305084746, -1.9928052145), (-10.9017784836, -4.5156645019), (-9.6331374918, -6.8148853303))
            ThreePointArc((-9.6331374918, -6.8148853303), (-9.7580735804, -9.7580735804), (-6.8148853303, -9.6331374918))
            ThreePointArc((-6.8148853303, -9.6331374918), (-4.0492457471, -11.0834836076), (-1, -11.7575507654))
            Line((-1, -11.7575507654), (-1, -10.9544511501))
            ThreePointArc((-1, -10.9544511501), (-10.995850317, -0.3021188612), (-1.6, 10.8830142883))
        make_face()
        with BuildLine():
            Line((1.6, 11.6910221965), (1.6, 10.8830142883))
            ThreePointArc((1.6, 10.8830142883), (10.995850317, -0.3021188612), (1, -10.9544511501))
            Line((1, -10.9544511501), (1, -11.7575507654))
            ThreePointArc((1, -11.7575507654), (4.0492457471, -11.0834836076), (6.8148853303, -9.6331374918))
            ThreePointArc((6.8148853303, -9.6331374918), (9.7580735804, -9.7580735804), (9.6331374918, -6.8148853303))
            ThreePointArc((9.6331374918, -6.8148853303), (10.9017784836, -4.5156645019), (11.6305084746, -1.9928052145))
            ThreePointArc((11.6305084746, -1.9928052145), (12.0194026607, -1.987929192), (12.4, -1.9078784028))
            Line((12.4, -1.9078784028), (12.4, 1.9078784028))
            ThreePointArc((12.4, 1.9078784028), (12.0194026607, 1.987929192), (11.6305084746, 1.9928052145))
            ThreePointArc((11.6305084746, 1.9928052145), (10.9017784836, 4.5156645019), (9.6331374918, 6.8148853303))
            ThreePointArc((9.6331374918, 6.8148853303), (9.7580735804, 9.7580735804), (6.8148853303, 9.6331374918))
            ThreePointArc((6.8148853303, 9.6331374918), (4.331431189, 10.9762791444), (1.6, 11.6910221965))
        make_face()
        with BuildLine():
            Line((-12.4, -1.9078784028), (-12.4, 1.9078784028))
            ThreePointArc((-12.4, 1.9078784028), (-13.8, 0), (-12.4, -1.9078784028))
        make_face()
        with BuildLine():
            ThreePointArc((12.4, -1.9078784028), (13.8, 0), (12.4, 1.9078784028))
            Line((12.4, 1.9078784028), (12.4, -1.9078784028))
        make_face()
        with Locations((6.279962, 2.240006)):
            Circle(F0_R_2)
        with Locations((3.969962, 2.450006)):
            Circle(F0_R_2)
        with Locations((1.159962, 4.130006)):
            Circle(F0_R_2)
        with Locations((-6.090038, -0.039994)):
            Circle(F0_R_2)
        with Locations((-5.710038, -2.029994)):
            Circle(F0_R_2)
    extrude(amount=-F4_DEPTH)

    # F0 (on Top) → F5 (cut)
    with BuildSketch(Plane.XY):
        with BuildLine():
            Line((-1.6, 10.8830142883), (-1.6, 11.6910221965))
            ThreePointArc((-1.6, 11.6910221965), (-4.331431189, 10.9762791444), (-6.8148853303, 9.6331374918))
            ThreePointArc((-6.8148853303, 9.6331374918), (-9.7580735804, 9.7580735804), (-9.6331374918, 6.8148853303))
            ThreePointArc((-9.6331374918, 6.8148853303), (-10.9017784836, 4.5156645019), (-11.6305084746, 1.9928052145))
            ThreePointArc((-11.6305084746, 1.9928052145), (-12.0194026607, 1.987929192), (-12.4, 1.9078784028))
            Line((-12.4, 1.9078784028), (-12.4, -1.9078784028))
            ThreePointArc((-12.4, -1.9078784028), (-12.0194026607, -1.987929192), (-11.6305084746, -1.9928052145))
            ThreePointArc((-11.6305084746, -1.9928052145), (-10.9017784836, -4.5156645019), (-9.6331374918, -6.8148853303))
            ThreePointArc((-9.6331374918, -6.8148853303), (-9.7580735804, -9.7580735804), (-6.8148853303, -9.6331374918))
            ThreePointArc((-6.8148853303, -9.6331374918), (-4.0492457471, -11.0834836076), (-1, -11.7575507654))
            Line((-1, -11.7575507654), (-1, -10.9544511501))
            ThreePointArc((-1, -10.9544511501), (-10.995850317, -0.3021188612), (-1.6, 10.8830142883))
        make_face()
        with BuildLine():
            Line((-1.6, 9.8010221965), (-1.6, 10.8830142883))
            ThreePointArc((-1.6, 10.8830142883), (-10.995850317, -0.3021188612), (-1, -10.9544511501))
            Line((-1, -10.9544511501), (-1, -9.9675507654))
            Line((-1, -9.9675507654), (1, -9.9675507654))
            Line((1, -9.9675507654), (1, -10.9544511501))
            ThreePointArc((1, -10.9544511501), (10.995850317, -0.3021188612), (1.6, 10.8830142883))
            Line((1.6, 10.8830142883), (1.6, 9.8010221965))
            Line((1.6, 9.8010221965), (-1.6, 9.8010221965))
        make_face()
        with Locations((-5.710038, -2.029994)):
            Circle(F0_R_2, mode=Mode.SUBTRACT)
        with Locations((-6.090038, -0.039994)):
            Circle(F0_R_2, mode=Mode.SUBTRACT)
        with Locations((3.969962, 2.450006)):
            Circle(F0_R_2, mode=Mode.SUBTRACT)
        with Locations((1.159962, 4.130006)):
            Circle(F0_R_2, mode=Mode.SUBTRACT)
        with Locations((6.279962, 2.240006)):
            Circle(F0_R_2, mode=Mode.SUBTRACT)
        with BuildLine():
            Line((-12.4, -1.9078784028), (-12.4, 1.9078784028))
            ThreePointArc((-12.4, 1.9078784028), (-13.8, 0), (-12.4, -1.9078784028))
        make_face()
        with BuildLine():
            Line((1.6, 11.6910221965), (1.6, 10.8830142883))
            ThreePointArc((1.6, 10.8830142883), (10.995850317, -0.3021188612), (1, -10.9544511501))
            Line((1, -10.9544511501), (1, -11.7575507654))
            ThreePointArc((1, -11.7575507654), (4.0492457471, -11.0834836076), (6.8148853303, -9.6331374918))
            ThreePointArc((6.8148853303, -9.6331374918), (9.7580735804, -9.7580735804), (9.6331374918, -6.8148853303))
            ThreePointArc((9.6331374918, -6.8148853303), (10.9017784836, -4.5156645019), (11.6305084746, -1.9928052145))
            ThreePointArc((11.6305084746, -1.9928052145), (12.0194026607, -1.987929192), (12.4, -1.9078784028))
            Line((12.4, -1.9078784028), (12.4, 1.9078784028))
            ThreePointArc((12.4, 1.9078784028), (12.0194026607, 1.987929192), (11.6305084746, 1.9928052145))
            ThreePointArc((11.6305084746, 1.9928052145), (10.9017784836, 4.5156645019), (9.6331374918, 6.8148853303))
            ThreePointArc((9.6331374918, 6.8148853303), (9.7580735804, 9.7580735804), (6.8148853303, 9.6331374918))
            ThreePointArc((6.8148853303, 9.6331374918), (4.331431189, 10.9762791444), (1.6, 11.6910221965))
        make_face()
        with BuildLine():
            ThreePointArc((12.4, -1.9078784028), (13.8, 0), (12.4, 1.9078784028))
            Line((12.4, 1.9078784028), (12.4, -1.9078784028))
        make_face()
        with Locations((-5.710038, -2.029994)):
            Circle(F0_R_2)
        with Locations((-6.090038, -0.039994)):
            Circle(F0_R_2)
        with Locations((1.159962, 4.130006)):
            Circle(F0_R_2)
        with Locations((3.969962, 2.450006)):
            Circle(F0_R_2)
        with Locations((6.279962, 2.240006)):
            Circle(F0_R_2)
    extrude(amount=-F5_DEPTH, mode=Mode.SUBTRACT)

    # F0 (on Top) → F6 (cut)
    with BuildSketch(Plane.XY):
        with BuildLine():
            Line((-1.6, 9.8010221965), (-1.6, 10.8830142883))
            ThreePointArc((-1.6, 10.8830142883), (-10.995850317, -0.3021188612), (-1, -10.9544511501))
            Line((-1, -10.9544511501), (-1, -9.9675507654))
            Line((-1, -9.9675507654), (1, -9.9675507654))
            Line((1, -9.9675507654), (1, -10.9544511501))
            ThreePointArc((1, -10.9544511501), (10.995850317, -0.3021188612), (1.6, 10.8830142883))
            Line((1.6, 10.8830142883), (1.6, 9.8010221965))
            Line((1.6, 9.8010221965), (-1.6, 9.8010221965))
        make_face()
        with Locations((-5.710038, -2.029994)):
            Circle(F0_R_2, mode=Mode.SUBTRACT)
        with Locations((-6.090038, -0.039994)):
            Circle(F0_R_2, mode=Mode.SUBTRACT)
        with Locations((3.969962, 2.450006)):
            Circle(F0_R_2, mode=Mode.SUBTRACT)
        with Locations((1.159962, 4.130006)):
            Circle(F0_R_2, mode=Mode.SUBTRACT)
        with Locations((6.279962, 2.240006)):
            Circle(F0_R_2, mode=Mode.SUBTRACT)
        with Locations((-6.090038, -0.039994)):
            Circle(F0_R_2)
        with Locations((-5.710038, -2.029994)):
            Circle(F0_R_2)
        with Locations((1.159962, 4.130006)):
            Circle(F0_R_2)
        with Locations((3.969962, 2.450006)):
            Circle(F0_R_2)
        with Locations((6.279962, 2.240006)):
            Circle(F0_R_2)
    extrude(amount=-F6_DEPTH, mode=Mode.SUBTRACT)


solid = Compound([f1.part, f4.part])
